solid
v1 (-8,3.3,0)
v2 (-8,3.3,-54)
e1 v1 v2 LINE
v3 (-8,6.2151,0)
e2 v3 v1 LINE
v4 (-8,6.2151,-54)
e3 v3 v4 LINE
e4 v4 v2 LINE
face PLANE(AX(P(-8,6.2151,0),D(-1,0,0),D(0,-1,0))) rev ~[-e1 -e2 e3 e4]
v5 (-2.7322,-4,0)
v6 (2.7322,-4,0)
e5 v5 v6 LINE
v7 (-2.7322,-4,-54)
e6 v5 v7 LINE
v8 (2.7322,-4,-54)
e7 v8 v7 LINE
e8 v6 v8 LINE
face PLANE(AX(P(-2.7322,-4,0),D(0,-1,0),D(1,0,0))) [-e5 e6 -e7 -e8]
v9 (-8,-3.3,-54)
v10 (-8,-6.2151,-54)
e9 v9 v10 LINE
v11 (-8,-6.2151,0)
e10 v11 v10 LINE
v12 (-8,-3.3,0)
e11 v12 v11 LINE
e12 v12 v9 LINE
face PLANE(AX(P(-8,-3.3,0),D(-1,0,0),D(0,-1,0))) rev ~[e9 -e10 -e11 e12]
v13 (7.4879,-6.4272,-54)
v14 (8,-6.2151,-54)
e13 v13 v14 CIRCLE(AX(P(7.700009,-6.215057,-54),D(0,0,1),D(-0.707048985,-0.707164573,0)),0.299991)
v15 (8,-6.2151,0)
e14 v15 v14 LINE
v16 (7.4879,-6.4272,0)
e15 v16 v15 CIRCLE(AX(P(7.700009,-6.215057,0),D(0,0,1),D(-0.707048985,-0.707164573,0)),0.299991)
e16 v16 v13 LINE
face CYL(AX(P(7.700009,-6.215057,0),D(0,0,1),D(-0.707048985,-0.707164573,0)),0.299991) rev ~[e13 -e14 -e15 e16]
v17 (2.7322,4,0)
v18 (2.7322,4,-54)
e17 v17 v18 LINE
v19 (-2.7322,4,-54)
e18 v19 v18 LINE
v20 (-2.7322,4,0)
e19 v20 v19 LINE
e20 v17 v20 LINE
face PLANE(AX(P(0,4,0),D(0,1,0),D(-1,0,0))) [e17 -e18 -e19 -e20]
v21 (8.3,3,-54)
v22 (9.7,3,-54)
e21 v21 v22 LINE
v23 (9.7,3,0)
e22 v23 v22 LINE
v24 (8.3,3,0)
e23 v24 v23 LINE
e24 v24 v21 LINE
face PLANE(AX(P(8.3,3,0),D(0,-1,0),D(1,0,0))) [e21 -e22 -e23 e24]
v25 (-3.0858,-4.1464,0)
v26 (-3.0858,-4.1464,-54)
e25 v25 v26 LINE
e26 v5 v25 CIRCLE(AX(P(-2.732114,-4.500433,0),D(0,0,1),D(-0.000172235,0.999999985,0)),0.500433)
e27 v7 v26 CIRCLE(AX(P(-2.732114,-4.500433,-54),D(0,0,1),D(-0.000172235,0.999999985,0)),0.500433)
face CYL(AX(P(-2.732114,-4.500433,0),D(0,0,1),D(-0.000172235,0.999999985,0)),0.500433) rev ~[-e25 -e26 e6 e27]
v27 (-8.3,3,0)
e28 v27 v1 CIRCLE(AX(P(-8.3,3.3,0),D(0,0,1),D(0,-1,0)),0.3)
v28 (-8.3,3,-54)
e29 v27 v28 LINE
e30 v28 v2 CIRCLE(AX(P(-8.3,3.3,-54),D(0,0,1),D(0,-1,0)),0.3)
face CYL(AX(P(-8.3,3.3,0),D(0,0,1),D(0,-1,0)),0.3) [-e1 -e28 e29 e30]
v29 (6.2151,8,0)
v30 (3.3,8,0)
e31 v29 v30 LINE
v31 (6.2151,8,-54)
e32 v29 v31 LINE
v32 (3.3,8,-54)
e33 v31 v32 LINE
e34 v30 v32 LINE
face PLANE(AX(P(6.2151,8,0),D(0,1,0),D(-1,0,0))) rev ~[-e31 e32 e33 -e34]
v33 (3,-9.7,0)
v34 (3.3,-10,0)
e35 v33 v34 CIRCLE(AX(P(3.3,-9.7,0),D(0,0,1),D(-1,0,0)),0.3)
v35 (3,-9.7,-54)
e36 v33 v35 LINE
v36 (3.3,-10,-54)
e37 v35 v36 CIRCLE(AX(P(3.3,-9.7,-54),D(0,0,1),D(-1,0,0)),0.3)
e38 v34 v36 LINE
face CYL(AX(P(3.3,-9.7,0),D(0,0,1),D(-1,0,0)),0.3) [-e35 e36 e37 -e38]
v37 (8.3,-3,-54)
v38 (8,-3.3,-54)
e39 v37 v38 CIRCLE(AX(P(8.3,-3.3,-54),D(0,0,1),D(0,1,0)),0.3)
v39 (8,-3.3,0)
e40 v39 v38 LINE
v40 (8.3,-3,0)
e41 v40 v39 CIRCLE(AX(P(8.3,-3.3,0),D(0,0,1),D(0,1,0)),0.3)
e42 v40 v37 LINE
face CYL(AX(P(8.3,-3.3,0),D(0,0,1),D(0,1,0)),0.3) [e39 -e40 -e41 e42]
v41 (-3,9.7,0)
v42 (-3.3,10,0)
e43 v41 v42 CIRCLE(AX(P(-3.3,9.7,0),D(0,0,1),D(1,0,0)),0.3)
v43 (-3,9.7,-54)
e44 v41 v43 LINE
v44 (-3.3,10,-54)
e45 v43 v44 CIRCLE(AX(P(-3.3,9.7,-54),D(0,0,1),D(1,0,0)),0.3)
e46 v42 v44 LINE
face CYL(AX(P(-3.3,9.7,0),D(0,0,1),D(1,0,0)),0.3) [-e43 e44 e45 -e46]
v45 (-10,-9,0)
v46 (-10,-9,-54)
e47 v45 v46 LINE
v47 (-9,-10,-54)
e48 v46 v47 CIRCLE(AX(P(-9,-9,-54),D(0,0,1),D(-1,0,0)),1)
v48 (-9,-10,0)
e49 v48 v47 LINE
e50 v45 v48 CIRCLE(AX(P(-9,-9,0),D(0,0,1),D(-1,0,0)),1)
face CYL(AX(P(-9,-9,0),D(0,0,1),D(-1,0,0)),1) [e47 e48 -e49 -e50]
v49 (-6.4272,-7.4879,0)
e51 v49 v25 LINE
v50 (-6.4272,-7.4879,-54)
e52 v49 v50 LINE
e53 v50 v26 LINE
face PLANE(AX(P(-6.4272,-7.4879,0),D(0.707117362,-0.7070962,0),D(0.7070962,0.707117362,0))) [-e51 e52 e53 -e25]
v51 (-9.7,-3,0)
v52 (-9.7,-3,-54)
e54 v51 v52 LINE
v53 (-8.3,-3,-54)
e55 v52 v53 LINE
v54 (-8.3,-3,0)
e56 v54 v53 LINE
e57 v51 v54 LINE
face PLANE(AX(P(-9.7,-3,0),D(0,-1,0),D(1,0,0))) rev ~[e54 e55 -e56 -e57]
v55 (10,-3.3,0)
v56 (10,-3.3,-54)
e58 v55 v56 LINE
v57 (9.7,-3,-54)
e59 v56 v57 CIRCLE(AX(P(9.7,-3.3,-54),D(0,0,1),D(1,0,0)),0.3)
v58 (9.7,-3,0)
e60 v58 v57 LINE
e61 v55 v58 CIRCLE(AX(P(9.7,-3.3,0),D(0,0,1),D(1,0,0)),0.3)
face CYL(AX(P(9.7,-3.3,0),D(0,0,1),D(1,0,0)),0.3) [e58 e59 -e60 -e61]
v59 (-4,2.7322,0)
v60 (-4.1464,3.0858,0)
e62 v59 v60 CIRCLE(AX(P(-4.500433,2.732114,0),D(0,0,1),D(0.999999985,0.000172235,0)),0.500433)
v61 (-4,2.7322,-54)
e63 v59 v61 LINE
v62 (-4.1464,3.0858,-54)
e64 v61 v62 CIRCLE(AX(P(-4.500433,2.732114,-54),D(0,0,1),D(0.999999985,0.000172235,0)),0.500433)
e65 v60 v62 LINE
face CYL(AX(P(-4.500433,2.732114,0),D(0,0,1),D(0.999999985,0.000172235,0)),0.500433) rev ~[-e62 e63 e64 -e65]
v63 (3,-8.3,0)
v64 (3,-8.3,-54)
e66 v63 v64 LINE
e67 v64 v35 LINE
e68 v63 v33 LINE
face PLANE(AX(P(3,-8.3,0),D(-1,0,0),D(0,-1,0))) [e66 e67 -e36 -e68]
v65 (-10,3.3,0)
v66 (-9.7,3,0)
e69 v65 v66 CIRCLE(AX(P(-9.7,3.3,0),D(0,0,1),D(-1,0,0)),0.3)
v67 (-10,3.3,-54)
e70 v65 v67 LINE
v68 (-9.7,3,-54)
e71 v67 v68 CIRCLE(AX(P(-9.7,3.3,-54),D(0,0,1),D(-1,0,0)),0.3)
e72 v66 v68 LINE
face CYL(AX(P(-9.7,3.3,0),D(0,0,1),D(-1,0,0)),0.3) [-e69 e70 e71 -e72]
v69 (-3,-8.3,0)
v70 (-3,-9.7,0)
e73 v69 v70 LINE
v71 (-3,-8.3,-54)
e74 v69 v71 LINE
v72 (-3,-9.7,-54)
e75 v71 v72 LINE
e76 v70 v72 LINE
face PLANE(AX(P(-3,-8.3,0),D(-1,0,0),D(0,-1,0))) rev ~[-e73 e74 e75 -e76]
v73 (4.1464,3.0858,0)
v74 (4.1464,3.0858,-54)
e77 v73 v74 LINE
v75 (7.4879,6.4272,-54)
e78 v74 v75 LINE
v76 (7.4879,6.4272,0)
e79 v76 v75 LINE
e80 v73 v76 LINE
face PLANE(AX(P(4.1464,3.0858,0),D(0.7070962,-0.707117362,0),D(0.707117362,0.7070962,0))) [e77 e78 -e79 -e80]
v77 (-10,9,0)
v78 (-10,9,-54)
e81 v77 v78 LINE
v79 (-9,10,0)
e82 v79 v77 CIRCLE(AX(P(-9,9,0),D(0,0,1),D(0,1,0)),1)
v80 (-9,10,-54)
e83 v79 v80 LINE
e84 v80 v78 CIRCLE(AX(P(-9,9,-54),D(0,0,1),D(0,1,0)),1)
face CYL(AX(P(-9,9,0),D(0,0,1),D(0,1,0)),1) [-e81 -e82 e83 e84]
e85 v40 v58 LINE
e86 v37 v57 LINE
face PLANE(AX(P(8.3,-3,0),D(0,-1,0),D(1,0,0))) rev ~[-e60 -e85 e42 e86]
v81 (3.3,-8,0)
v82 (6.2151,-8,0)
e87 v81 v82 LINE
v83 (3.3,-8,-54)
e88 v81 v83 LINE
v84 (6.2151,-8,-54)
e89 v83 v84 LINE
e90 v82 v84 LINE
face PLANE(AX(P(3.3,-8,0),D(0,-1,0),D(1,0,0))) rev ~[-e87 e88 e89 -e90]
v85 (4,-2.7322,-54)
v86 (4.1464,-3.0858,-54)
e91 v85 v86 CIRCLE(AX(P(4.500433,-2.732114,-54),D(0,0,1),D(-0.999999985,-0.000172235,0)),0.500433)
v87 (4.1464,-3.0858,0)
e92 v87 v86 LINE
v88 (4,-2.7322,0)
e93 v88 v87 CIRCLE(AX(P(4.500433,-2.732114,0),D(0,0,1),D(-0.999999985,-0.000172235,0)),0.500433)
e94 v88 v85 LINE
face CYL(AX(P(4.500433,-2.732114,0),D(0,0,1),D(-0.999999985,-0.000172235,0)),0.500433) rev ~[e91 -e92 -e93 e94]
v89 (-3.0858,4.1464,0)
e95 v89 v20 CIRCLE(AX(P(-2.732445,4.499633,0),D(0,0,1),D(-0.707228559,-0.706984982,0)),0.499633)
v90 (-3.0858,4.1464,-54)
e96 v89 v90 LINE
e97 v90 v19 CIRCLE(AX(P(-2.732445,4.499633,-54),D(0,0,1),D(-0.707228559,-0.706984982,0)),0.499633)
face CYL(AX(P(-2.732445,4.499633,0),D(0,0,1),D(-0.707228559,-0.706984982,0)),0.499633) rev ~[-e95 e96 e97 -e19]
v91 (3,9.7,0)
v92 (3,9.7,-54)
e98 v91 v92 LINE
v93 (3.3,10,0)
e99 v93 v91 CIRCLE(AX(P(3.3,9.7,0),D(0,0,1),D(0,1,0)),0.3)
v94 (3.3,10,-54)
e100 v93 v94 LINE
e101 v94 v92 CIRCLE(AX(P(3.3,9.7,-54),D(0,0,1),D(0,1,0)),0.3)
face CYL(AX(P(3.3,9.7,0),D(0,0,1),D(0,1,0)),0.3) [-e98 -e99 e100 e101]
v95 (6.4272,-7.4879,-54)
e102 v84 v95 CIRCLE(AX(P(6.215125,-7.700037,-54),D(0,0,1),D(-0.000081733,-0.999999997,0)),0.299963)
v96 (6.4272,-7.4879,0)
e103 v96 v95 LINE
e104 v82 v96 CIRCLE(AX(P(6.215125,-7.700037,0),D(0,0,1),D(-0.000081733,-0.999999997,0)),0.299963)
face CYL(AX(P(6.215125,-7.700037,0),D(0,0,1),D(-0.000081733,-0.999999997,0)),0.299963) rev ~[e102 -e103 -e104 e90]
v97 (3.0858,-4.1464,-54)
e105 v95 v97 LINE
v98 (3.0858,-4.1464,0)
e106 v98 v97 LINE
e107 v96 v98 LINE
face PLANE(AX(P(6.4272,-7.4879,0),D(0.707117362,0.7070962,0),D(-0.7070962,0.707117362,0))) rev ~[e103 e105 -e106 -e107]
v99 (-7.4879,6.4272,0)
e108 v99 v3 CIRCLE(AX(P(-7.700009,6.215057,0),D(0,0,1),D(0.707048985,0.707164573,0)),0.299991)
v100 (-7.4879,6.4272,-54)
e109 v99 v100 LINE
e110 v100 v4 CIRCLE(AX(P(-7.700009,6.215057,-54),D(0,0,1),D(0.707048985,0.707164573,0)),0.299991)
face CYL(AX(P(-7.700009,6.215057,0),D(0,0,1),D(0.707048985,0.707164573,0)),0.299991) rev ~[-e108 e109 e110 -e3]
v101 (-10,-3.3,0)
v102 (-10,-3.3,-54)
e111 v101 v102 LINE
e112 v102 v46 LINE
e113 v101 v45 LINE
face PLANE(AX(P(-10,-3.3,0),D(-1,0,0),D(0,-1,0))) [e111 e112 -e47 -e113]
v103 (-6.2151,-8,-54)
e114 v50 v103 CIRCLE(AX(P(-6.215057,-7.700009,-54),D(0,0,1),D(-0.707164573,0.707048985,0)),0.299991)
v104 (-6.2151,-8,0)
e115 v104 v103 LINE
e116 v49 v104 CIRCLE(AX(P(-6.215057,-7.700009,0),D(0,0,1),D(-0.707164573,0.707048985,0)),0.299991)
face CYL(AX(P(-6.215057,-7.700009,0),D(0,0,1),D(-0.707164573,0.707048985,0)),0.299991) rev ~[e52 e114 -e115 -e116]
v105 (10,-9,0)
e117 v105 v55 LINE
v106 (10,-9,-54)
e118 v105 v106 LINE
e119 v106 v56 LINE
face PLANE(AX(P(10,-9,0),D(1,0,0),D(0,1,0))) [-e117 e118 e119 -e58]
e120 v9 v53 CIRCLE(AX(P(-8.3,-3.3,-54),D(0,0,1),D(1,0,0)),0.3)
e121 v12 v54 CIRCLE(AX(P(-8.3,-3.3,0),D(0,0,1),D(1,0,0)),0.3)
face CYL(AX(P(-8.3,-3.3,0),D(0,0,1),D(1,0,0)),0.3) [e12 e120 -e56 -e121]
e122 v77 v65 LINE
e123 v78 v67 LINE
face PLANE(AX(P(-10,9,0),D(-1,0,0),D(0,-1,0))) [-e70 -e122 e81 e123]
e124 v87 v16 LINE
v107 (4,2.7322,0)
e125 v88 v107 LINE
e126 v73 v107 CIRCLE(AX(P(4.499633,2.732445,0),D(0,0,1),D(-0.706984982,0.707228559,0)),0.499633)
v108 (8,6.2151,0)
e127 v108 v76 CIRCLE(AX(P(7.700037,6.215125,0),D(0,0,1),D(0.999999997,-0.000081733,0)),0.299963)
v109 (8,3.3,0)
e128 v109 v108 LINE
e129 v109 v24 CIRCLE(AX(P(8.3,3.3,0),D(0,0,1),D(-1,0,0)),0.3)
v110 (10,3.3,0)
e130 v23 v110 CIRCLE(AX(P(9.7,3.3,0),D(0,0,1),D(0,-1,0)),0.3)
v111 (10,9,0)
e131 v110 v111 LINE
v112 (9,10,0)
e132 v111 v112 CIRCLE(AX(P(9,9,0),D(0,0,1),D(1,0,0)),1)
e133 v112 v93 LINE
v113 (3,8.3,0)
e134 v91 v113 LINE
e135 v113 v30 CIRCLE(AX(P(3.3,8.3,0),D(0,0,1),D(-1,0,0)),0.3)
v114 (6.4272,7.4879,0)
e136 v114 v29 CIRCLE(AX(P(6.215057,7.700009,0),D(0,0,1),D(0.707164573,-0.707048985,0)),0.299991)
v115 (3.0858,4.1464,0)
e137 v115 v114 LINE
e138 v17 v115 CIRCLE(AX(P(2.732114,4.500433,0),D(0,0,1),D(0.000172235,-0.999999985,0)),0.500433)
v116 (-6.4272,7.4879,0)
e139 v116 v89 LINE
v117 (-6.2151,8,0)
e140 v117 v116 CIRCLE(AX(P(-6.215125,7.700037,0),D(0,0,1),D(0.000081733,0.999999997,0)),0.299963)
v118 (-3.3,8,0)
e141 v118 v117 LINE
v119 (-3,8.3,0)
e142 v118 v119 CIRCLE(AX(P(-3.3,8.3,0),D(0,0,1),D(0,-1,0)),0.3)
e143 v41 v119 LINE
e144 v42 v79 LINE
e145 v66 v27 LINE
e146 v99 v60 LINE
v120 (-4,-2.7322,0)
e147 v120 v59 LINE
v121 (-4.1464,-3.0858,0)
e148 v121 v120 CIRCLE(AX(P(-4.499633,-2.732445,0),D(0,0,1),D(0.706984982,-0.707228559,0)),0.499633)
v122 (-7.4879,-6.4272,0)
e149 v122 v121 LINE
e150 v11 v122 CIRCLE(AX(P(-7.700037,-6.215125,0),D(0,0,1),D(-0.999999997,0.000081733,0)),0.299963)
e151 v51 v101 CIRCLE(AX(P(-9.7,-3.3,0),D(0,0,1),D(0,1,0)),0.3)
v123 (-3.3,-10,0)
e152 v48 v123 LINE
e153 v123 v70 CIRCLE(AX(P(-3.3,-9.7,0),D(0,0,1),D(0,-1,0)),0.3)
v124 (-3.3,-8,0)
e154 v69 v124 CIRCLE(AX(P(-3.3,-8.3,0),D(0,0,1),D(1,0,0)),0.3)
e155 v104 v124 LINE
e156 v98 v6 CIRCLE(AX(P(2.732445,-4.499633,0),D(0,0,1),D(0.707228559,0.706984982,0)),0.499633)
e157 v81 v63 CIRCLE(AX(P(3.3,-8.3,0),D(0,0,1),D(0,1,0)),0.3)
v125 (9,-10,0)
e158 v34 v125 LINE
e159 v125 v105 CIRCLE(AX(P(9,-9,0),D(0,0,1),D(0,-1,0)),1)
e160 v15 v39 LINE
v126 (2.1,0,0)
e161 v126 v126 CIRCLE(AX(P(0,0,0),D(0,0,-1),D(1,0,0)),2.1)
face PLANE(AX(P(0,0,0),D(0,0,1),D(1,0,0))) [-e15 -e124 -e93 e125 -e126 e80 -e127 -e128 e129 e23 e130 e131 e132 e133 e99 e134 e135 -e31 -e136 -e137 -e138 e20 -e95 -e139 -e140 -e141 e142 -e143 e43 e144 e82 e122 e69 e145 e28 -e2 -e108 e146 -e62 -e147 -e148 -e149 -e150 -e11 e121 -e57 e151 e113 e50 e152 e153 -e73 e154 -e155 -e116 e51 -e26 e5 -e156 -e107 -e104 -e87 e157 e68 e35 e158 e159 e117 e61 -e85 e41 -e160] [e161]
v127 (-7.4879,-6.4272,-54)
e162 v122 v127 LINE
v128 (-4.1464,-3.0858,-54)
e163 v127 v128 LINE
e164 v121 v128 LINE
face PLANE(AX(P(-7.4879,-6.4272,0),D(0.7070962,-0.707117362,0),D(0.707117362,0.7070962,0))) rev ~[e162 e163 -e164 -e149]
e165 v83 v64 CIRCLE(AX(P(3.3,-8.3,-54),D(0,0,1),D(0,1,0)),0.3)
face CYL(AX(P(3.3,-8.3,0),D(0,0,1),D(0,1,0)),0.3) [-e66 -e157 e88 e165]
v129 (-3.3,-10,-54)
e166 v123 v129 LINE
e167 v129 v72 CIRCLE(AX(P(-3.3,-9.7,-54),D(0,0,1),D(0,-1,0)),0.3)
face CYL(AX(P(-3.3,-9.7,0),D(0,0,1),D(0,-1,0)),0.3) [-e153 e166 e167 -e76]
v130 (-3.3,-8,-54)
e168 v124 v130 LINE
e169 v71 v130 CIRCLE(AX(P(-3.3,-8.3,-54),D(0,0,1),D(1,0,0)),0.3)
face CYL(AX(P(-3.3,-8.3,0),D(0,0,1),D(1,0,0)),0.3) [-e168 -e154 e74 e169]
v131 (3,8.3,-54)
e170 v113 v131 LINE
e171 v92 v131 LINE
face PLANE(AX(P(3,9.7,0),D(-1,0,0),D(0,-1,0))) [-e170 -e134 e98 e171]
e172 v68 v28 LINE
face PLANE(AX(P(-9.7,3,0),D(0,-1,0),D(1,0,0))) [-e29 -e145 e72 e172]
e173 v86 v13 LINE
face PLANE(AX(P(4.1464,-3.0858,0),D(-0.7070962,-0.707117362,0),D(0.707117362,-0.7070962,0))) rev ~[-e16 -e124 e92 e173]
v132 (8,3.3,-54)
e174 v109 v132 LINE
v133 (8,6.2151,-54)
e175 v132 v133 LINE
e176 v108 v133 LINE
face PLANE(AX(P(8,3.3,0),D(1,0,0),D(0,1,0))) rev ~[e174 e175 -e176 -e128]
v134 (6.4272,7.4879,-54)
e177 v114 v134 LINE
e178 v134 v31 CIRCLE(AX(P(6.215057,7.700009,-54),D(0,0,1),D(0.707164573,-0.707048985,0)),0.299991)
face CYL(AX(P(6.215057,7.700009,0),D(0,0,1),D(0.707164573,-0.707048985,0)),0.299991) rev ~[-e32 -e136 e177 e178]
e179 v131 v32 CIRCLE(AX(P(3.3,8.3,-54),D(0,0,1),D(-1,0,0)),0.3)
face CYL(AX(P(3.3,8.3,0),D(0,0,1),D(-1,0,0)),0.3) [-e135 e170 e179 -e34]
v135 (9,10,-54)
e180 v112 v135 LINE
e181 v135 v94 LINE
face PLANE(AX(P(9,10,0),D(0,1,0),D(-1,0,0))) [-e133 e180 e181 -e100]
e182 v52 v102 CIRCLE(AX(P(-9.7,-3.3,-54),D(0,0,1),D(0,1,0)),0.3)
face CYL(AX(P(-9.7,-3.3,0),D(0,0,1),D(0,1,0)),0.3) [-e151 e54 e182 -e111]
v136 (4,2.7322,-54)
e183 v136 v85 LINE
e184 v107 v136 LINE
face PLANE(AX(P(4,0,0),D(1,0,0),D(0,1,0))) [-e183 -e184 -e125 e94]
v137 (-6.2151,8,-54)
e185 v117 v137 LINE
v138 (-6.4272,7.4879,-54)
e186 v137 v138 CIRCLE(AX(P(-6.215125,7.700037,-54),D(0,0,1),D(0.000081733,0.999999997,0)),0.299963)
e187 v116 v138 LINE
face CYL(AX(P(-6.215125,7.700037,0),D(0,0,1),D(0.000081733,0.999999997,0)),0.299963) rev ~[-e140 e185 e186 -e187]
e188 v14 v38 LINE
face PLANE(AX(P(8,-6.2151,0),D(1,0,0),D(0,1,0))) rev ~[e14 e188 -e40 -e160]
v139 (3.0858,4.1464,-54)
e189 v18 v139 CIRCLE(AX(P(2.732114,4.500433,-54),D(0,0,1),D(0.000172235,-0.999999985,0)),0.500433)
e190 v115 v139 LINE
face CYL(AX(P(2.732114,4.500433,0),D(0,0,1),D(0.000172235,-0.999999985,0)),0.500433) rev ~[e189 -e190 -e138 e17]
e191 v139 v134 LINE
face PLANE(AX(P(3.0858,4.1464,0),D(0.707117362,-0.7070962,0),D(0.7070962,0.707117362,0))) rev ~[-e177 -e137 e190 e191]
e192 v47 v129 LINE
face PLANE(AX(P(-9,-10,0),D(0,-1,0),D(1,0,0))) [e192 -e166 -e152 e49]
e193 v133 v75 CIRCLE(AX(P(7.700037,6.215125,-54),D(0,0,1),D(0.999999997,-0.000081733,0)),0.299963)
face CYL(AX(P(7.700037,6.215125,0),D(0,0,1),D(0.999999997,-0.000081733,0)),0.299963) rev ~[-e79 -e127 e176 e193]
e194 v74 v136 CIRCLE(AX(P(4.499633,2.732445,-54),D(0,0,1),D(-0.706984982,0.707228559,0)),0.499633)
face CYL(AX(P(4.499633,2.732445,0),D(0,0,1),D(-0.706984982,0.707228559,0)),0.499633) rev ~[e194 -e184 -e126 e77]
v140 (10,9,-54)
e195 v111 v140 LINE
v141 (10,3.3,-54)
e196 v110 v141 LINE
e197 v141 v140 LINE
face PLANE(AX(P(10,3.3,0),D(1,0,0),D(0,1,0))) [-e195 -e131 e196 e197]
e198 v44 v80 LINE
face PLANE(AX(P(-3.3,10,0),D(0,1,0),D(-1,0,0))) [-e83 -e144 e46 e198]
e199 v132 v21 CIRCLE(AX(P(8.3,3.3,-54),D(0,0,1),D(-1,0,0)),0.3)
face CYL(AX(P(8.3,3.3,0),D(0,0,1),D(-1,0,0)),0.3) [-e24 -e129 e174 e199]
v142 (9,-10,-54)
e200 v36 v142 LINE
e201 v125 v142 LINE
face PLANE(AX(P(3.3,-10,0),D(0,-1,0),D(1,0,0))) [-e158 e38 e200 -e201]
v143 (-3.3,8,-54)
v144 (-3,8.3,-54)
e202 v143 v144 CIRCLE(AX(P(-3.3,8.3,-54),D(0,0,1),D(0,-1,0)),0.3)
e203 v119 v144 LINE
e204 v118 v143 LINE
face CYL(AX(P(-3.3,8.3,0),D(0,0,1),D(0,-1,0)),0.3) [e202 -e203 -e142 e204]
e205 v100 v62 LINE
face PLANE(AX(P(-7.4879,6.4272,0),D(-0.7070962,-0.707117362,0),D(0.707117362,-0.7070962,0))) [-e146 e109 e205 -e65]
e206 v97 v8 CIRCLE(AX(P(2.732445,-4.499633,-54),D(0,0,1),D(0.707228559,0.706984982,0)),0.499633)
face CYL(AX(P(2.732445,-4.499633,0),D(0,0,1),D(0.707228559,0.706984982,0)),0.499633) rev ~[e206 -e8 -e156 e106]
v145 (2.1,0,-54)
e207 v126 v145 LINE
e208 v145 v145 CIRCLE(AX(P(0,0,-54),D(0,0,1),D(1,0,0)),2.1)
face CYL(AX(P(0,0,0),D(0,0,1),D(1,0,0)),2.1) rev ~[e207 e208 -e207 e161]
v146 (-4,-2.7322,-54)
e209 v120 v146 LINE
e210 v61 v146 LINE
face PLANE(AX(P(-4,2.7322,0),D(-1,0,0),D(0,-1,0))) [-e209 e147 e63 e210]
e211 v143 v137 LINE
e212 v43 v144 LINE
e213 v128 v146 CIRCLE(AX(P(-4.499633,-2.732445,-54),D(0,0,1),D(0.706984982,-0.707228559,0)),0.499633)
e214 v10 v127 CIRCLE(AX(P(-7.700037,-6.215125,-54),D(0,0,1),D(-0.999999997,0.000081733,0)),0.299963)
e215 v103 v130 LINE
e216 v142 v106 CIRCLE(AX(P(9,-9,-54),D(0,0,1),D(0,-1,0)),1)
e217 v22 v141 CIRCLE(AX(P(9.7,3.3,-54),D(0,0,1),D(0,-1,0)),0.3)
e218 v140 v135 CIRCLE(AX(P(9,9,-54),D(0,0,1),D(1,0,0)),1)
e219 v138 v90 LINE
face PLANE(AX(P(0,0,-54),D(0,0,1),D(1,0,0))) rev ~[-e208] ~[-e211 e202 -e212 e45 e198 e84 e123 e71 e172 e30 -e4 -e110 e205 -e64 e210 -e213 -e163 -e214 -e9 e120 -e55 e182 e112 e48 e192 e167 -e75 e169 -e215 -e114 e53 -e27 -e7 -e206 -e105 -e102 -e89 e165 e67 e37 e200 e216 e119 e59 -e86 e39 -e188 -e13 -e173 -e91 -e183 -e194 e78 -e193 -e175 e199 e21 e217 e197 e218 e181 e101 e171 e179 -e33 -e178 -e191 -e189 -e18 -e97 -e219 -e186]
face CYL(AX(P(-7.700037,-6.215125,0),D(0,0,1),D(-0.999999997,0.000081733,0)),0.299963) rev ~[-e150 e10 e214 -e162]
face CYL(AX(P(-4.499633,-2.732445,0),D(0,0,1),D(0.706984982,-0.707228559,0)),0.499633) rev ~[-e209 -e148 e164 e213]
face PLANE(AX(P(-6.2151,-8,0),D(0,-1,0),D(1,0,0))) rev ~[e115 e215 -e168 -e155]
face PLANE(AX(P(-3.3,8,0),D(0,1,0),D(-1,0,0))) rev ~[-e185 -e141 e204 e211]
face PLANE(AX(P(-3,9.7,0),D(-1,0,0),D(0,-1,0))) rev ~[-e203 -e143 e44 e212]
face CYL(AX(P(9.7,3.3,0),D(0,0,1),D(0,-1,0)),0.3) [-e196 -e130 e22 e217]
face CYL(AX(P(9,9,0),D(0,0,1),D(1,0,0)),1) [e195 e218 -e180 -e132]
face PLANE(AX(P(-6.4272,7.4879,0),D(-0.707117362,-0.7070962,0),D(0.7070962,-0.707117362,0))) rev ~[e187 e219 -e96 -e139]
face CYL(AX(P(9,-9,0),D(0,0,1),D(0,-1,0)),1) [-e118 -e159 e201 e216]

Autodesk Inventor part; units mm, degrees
ref_plane "YZ Plane" through (0, 0, 0) normal (1, 0, 0) x (0, 1, 0)
ref_plane "XZ Plane" through (0, 0, 0) normal (0, 1, 0) x (-1, 0, 0)
ref_plane "XY Plane" through (0, 0, 0) normal (0, 0, 1) x (1, 0, 0)
sketch "Skizze1" plane through (0, 0, 0) normal (0, 0, 1) x (1, 0, 0)
  line L0 (-20.0059, 0) -> (20.0059, 0) projected
  line L1 (0, -20.0059) -> (0, 20.0059) projected
  line L2 (-14.2899, 0) -> (14.2899, 0)
  line L3 (0, -14.2899) -> (0, 14.2899)
  line L4 (-10, -10) -> (10, 10) construction
  line L5 (10, -10) -> (-10, 10) construction
  line L6 (-8, -8) -> (8, 8) construction
  line L7 (8, -8) -> (-8, 8) construction
  line L8 (-2.7322, -4) -> (2.7322, -4)
  line L9 (4, -2.7322) -> (4, 2.7322)
  line L10 (2.7322, 4) -> (-2.7322, 4)
  line L11 (-4, 2.7322) -> (-4, -2.7322)
  line L12 (-4, -4) -> (4, 4) construction
  line L13 (4, -4) -> (-4, 4) construction
  arc A0 (-9, 10) -> (-10, 9) centre (-9, 9) ccw
  arc A1 (10, 9) -> (9, 10) centre (9, 9) ccw
  arc A2 (9, -10) -> (10, -9) centre (9, -9) ccw
  arc A3 (-10, -9) -> (-9, -10) centre (-9, -9) ccw
  line L14 (-3, 9.7) -> (-3, 8.3)
  line L15 (3, 9.7) -> (3, 8.3)
  line L16 (6.2151, 8) -> (3.3, 8)
  line L17 (-3.3, 8) -> (-6.2151, 8)
  line L18 (9, 10) -> (3.3, 10)
  line L19 (-3.3, 10) -> (-9, 10)
  line L20 (-9.7, -3) -> (-8.3, -3)
  line L21 (-9.7, 3) -> (-8.3, 3)
  line L22 (-8, 6.2151) -> (-8, 3.3)
  line L23 (-8, -3.3) -> (-8, -6.2151)
  line L24 (-10, 9) -> (-10, 3.3)
  line L25 (-10, -3.3) -> (-10, -9)
  line L26 (-3, -8.3) -> (-3, -9.7)
  line L27 (3, -8.3) -> (3, -9.7)
  line L28 (-9, -10) -> (-3.3, -10)
  line L29 (3.3, -10) -> (9, -10)
  line L30 (-6.2151, -8) -> (-3.3, -8)
  line L31 (3.3, -8) -> (6.2151, -8)
  line L32 (8.3, 3) -> (9.7, 3)
  line L33 (8.3, -3) -> (9.7, -3)
  line L34 (8, -6.2151) -> (8, -3.3)
  line L35 (8, 3.3) -> (8, 6.2151)
  line L36 (10, -9) -> (10, -3.3)
  line L37 (10, 3.3) -> (10, 9)
  arc A4 (-10, 3.3) -> (-9.7, 3) centre (-9.7, 3.3) ccw
  arc A5 (-8.3, 3) -> (-8, 3.3) centre (-8.3, 3.3) ccw
  arc A6 (-9.7, -3) -> (-10, -3.3) centre (-9.7, -3.3) ccw
  arc A7 (-8, -3.3) -> (-8.3, -3) centre (-8.3, -3.3) ccw
  arc A8 (-3.3, -10) -> (-3, -9.7) centre (-3.3, -9.7) ccw
  arc A9 (-3, -8.3) -> (-3.3, -8) centre (-3.3, -8.3) ccw
  arc A10 (3, -9.7) -> (3.3, -10) centre (3.3, -9.7) ccw
  arc A11 (3.3, -8) -> (3, -8.3) centre (3.3, -8.3) ccw
  arc A12 (8.3, -3) -> (8, -3.3) centre (8.3, -3.3) ccw
  arc A13 (10, -3.3) -> (9.7, -3) centre (9.7, -3.3) ccw
  arc A14 (8, 3.3) -> (8.3, 3) centre (8.3, 3.3) ccw
  arc A15 (9.7, 3) -> (10, 3.3) centre (9.7, 3.3) ccw
  arc A16 (3, 8.3) -> (3.3, 8) centre (3.3, 8.3) ccw
  arc A17 (3.3, 10) -> (3, 9.7) centre (3.3, 9.7) ccw
  arc A18 (-3.3, 8) -> (-3, 8.3) centre (-3.3, 8.3) ccw
  arc A19 (-3, 9.7) -> (-3.3, 10) centre (-3.3, 9.7) ccw
  line L38 (-7.4879, 6.4272) -> (-4.1464, 3.0858)
  line L39 (-6.4272, 7.4879) -> (-3.0858, 4.1464)
  line L40 (-6.4272, -7.4879) -> (-3.0858, -4.1464)
  line L41 (-7.4879, -6.4272) -> (-4.1464, -3.0858)
  arc A20 (-7.4879, 6.4272) -> (-8, 6.2151) centre (-7.7, 6.2151) ccw
  arc A21 (-6.2151, 8) -> (-6.4272, 7.4879) centre (-6.2151, 7.7) ccw
  arc A22 (-8, -6.2151) -> (-7.4879, -6.4272) centre (-7.7, -6.2151) ccw
  arc A23 (-6.4272, -7.4879) -> (-6.2151, -8) centre (-6.2151, -7.7) ccw
  line L42 (6.4272, -7.4879) -> (3.0858, -4.1464)
  line L43 (4.1464, -3.0858) -> (7.4879, -6.4272)
  arc A24 (6.2151, -8) -> (6.4272, -7.4879) centre (6.2151, -7.7) ccw
  arc A25 (7.4879, -6.4272) -> (8, -6.2151) centre (7.7, -6.2151) ccw
  line L44 (4.1464, 3.0858) -> (7.4879, 6.4272)
  line L45 (3.0858, 4.1464) -> (6.4272, 7.4879)
  arc A26 (6.4272, 7.4879) -> (6.2151, 8) centre (6.2151, 7.7) ccw
  arc A27 (8, 6.2151) -> (7.4879, 6.4272) centre (7.7, 6.2151) ccw
  arc A28 (-3.0858, 4.1464) -> (-2.7322, 4) centre (-2.7322, 4.5) ccw
  arc A29 (-4, 2.7322) -> (-4.1464, 3.0858) centre (-4.5, 2.7322) ccw
  arc A30 (2.7322, 4) -> (3.0858, 4.1464) centre (2.7322, 4.5) ccw
  arc A31 (4.1464, 3.0858) -> (4, 2.7322) centre (4.5, 2.7322) ccw
  arc A32 (-4.1464, -3.0858) -> (-4, -2.7322) centre (-4.5, -2.7322) ccw
  arc A33 (-2.7322, -4) -> (-3.0858, -4.1464) centre (-2.7322, -4.5) ccw
  arc A34 (3.0858, -4.1464) -> (2.7322, -4) centre (2.7322, -4.5) ccw
  arc A35 (4, -2.7322) -> (4.1464, -3.0858) centre (4.5, -2.7322) ccw
  circle A36 centre (0, 0) radius 2.1
  point P0 (3, 8.9014)
  point P1 (-3, 9.1415)
  point P2 (-8.9764, -3)
  point P3 (-9.1265, 3)
  point P4 (3, -9.1251)
  point P5 (-3, -9.1251)
  point P6 (9.1101, -3)
  point P7 (9.1101, 3)
  dimension "d0" = 20
  dimension "d1" = 20
  dimension "d2" = 16
  dimension "d3" = 16
  dimension "d4" = 8
  dimension "d5" = 8
  dimension "d6" = 1
  dimension "d7" = 6
  dimension "d8" = 6
  dimension "d9" = 6
  dimension "d10" = 6
  dimension "d11" = 0.3
  dimension "d12" = 1.5
  dimension "d13" = 1.5
  dimension "d14" = 0.3
  dimension "d15" = 1.5
  dimension "d16" = 0.3
  dimension "d17" = 1.5
  dimension "d18" = 0.3
  dimension "d19" = 0.5
  dimension "d20" = 4.2
  dimension "d21" = 45
  dimension "d22" = 10
  dimension "d23" = 10
  dimension "d24" = 4
  dimension "d25" = 4
  dimension "d26" = 10
  dimension "d27" = 8
  dimension "d28" = 4
  dimension "d29" = 4
  dimension "d30" = 10
  dimension "d31" = 9.1101
  dimension "d32" = 8
  dimension "d33" = 4
  dimension "d34" = 8.9014
  dimension "d35" = 9.1251
  dimension "d36" = 9.1415
  dimension "d37" = 8.9764
  dimension "d38" = 9.1265
extrude "Extrusion1" add sketch "Skizze1" against normal blind 54 contours L11 A29 L38 A20 L22 A5 L21 A4 L24 A0 L19 A19 L14 A18 L17 A21 L39 A28 L10 L1 A36 L0 | L0 A36 L1 L8 A33 L40 A23 L30 A9 L26 A8 L28 A3 L25 A6 L20 A7 L23 A22 L41 A32 L11 | L1 L10 A30 L45 A26 L16 A16 L15 A17 L18 A1 L37 A15 L32 A14 L35 A27 L44 A31 L9 L0 A36 | A36 L0 L9 A35 L43 A25 L34 A12 L33 A13 L36 A2 L29 A10 L27 A11 L31 A24 L42 A34 L8 L1
properties part number "I Strebe Motorhalterung waagecht" material "Aluminium 6061"
